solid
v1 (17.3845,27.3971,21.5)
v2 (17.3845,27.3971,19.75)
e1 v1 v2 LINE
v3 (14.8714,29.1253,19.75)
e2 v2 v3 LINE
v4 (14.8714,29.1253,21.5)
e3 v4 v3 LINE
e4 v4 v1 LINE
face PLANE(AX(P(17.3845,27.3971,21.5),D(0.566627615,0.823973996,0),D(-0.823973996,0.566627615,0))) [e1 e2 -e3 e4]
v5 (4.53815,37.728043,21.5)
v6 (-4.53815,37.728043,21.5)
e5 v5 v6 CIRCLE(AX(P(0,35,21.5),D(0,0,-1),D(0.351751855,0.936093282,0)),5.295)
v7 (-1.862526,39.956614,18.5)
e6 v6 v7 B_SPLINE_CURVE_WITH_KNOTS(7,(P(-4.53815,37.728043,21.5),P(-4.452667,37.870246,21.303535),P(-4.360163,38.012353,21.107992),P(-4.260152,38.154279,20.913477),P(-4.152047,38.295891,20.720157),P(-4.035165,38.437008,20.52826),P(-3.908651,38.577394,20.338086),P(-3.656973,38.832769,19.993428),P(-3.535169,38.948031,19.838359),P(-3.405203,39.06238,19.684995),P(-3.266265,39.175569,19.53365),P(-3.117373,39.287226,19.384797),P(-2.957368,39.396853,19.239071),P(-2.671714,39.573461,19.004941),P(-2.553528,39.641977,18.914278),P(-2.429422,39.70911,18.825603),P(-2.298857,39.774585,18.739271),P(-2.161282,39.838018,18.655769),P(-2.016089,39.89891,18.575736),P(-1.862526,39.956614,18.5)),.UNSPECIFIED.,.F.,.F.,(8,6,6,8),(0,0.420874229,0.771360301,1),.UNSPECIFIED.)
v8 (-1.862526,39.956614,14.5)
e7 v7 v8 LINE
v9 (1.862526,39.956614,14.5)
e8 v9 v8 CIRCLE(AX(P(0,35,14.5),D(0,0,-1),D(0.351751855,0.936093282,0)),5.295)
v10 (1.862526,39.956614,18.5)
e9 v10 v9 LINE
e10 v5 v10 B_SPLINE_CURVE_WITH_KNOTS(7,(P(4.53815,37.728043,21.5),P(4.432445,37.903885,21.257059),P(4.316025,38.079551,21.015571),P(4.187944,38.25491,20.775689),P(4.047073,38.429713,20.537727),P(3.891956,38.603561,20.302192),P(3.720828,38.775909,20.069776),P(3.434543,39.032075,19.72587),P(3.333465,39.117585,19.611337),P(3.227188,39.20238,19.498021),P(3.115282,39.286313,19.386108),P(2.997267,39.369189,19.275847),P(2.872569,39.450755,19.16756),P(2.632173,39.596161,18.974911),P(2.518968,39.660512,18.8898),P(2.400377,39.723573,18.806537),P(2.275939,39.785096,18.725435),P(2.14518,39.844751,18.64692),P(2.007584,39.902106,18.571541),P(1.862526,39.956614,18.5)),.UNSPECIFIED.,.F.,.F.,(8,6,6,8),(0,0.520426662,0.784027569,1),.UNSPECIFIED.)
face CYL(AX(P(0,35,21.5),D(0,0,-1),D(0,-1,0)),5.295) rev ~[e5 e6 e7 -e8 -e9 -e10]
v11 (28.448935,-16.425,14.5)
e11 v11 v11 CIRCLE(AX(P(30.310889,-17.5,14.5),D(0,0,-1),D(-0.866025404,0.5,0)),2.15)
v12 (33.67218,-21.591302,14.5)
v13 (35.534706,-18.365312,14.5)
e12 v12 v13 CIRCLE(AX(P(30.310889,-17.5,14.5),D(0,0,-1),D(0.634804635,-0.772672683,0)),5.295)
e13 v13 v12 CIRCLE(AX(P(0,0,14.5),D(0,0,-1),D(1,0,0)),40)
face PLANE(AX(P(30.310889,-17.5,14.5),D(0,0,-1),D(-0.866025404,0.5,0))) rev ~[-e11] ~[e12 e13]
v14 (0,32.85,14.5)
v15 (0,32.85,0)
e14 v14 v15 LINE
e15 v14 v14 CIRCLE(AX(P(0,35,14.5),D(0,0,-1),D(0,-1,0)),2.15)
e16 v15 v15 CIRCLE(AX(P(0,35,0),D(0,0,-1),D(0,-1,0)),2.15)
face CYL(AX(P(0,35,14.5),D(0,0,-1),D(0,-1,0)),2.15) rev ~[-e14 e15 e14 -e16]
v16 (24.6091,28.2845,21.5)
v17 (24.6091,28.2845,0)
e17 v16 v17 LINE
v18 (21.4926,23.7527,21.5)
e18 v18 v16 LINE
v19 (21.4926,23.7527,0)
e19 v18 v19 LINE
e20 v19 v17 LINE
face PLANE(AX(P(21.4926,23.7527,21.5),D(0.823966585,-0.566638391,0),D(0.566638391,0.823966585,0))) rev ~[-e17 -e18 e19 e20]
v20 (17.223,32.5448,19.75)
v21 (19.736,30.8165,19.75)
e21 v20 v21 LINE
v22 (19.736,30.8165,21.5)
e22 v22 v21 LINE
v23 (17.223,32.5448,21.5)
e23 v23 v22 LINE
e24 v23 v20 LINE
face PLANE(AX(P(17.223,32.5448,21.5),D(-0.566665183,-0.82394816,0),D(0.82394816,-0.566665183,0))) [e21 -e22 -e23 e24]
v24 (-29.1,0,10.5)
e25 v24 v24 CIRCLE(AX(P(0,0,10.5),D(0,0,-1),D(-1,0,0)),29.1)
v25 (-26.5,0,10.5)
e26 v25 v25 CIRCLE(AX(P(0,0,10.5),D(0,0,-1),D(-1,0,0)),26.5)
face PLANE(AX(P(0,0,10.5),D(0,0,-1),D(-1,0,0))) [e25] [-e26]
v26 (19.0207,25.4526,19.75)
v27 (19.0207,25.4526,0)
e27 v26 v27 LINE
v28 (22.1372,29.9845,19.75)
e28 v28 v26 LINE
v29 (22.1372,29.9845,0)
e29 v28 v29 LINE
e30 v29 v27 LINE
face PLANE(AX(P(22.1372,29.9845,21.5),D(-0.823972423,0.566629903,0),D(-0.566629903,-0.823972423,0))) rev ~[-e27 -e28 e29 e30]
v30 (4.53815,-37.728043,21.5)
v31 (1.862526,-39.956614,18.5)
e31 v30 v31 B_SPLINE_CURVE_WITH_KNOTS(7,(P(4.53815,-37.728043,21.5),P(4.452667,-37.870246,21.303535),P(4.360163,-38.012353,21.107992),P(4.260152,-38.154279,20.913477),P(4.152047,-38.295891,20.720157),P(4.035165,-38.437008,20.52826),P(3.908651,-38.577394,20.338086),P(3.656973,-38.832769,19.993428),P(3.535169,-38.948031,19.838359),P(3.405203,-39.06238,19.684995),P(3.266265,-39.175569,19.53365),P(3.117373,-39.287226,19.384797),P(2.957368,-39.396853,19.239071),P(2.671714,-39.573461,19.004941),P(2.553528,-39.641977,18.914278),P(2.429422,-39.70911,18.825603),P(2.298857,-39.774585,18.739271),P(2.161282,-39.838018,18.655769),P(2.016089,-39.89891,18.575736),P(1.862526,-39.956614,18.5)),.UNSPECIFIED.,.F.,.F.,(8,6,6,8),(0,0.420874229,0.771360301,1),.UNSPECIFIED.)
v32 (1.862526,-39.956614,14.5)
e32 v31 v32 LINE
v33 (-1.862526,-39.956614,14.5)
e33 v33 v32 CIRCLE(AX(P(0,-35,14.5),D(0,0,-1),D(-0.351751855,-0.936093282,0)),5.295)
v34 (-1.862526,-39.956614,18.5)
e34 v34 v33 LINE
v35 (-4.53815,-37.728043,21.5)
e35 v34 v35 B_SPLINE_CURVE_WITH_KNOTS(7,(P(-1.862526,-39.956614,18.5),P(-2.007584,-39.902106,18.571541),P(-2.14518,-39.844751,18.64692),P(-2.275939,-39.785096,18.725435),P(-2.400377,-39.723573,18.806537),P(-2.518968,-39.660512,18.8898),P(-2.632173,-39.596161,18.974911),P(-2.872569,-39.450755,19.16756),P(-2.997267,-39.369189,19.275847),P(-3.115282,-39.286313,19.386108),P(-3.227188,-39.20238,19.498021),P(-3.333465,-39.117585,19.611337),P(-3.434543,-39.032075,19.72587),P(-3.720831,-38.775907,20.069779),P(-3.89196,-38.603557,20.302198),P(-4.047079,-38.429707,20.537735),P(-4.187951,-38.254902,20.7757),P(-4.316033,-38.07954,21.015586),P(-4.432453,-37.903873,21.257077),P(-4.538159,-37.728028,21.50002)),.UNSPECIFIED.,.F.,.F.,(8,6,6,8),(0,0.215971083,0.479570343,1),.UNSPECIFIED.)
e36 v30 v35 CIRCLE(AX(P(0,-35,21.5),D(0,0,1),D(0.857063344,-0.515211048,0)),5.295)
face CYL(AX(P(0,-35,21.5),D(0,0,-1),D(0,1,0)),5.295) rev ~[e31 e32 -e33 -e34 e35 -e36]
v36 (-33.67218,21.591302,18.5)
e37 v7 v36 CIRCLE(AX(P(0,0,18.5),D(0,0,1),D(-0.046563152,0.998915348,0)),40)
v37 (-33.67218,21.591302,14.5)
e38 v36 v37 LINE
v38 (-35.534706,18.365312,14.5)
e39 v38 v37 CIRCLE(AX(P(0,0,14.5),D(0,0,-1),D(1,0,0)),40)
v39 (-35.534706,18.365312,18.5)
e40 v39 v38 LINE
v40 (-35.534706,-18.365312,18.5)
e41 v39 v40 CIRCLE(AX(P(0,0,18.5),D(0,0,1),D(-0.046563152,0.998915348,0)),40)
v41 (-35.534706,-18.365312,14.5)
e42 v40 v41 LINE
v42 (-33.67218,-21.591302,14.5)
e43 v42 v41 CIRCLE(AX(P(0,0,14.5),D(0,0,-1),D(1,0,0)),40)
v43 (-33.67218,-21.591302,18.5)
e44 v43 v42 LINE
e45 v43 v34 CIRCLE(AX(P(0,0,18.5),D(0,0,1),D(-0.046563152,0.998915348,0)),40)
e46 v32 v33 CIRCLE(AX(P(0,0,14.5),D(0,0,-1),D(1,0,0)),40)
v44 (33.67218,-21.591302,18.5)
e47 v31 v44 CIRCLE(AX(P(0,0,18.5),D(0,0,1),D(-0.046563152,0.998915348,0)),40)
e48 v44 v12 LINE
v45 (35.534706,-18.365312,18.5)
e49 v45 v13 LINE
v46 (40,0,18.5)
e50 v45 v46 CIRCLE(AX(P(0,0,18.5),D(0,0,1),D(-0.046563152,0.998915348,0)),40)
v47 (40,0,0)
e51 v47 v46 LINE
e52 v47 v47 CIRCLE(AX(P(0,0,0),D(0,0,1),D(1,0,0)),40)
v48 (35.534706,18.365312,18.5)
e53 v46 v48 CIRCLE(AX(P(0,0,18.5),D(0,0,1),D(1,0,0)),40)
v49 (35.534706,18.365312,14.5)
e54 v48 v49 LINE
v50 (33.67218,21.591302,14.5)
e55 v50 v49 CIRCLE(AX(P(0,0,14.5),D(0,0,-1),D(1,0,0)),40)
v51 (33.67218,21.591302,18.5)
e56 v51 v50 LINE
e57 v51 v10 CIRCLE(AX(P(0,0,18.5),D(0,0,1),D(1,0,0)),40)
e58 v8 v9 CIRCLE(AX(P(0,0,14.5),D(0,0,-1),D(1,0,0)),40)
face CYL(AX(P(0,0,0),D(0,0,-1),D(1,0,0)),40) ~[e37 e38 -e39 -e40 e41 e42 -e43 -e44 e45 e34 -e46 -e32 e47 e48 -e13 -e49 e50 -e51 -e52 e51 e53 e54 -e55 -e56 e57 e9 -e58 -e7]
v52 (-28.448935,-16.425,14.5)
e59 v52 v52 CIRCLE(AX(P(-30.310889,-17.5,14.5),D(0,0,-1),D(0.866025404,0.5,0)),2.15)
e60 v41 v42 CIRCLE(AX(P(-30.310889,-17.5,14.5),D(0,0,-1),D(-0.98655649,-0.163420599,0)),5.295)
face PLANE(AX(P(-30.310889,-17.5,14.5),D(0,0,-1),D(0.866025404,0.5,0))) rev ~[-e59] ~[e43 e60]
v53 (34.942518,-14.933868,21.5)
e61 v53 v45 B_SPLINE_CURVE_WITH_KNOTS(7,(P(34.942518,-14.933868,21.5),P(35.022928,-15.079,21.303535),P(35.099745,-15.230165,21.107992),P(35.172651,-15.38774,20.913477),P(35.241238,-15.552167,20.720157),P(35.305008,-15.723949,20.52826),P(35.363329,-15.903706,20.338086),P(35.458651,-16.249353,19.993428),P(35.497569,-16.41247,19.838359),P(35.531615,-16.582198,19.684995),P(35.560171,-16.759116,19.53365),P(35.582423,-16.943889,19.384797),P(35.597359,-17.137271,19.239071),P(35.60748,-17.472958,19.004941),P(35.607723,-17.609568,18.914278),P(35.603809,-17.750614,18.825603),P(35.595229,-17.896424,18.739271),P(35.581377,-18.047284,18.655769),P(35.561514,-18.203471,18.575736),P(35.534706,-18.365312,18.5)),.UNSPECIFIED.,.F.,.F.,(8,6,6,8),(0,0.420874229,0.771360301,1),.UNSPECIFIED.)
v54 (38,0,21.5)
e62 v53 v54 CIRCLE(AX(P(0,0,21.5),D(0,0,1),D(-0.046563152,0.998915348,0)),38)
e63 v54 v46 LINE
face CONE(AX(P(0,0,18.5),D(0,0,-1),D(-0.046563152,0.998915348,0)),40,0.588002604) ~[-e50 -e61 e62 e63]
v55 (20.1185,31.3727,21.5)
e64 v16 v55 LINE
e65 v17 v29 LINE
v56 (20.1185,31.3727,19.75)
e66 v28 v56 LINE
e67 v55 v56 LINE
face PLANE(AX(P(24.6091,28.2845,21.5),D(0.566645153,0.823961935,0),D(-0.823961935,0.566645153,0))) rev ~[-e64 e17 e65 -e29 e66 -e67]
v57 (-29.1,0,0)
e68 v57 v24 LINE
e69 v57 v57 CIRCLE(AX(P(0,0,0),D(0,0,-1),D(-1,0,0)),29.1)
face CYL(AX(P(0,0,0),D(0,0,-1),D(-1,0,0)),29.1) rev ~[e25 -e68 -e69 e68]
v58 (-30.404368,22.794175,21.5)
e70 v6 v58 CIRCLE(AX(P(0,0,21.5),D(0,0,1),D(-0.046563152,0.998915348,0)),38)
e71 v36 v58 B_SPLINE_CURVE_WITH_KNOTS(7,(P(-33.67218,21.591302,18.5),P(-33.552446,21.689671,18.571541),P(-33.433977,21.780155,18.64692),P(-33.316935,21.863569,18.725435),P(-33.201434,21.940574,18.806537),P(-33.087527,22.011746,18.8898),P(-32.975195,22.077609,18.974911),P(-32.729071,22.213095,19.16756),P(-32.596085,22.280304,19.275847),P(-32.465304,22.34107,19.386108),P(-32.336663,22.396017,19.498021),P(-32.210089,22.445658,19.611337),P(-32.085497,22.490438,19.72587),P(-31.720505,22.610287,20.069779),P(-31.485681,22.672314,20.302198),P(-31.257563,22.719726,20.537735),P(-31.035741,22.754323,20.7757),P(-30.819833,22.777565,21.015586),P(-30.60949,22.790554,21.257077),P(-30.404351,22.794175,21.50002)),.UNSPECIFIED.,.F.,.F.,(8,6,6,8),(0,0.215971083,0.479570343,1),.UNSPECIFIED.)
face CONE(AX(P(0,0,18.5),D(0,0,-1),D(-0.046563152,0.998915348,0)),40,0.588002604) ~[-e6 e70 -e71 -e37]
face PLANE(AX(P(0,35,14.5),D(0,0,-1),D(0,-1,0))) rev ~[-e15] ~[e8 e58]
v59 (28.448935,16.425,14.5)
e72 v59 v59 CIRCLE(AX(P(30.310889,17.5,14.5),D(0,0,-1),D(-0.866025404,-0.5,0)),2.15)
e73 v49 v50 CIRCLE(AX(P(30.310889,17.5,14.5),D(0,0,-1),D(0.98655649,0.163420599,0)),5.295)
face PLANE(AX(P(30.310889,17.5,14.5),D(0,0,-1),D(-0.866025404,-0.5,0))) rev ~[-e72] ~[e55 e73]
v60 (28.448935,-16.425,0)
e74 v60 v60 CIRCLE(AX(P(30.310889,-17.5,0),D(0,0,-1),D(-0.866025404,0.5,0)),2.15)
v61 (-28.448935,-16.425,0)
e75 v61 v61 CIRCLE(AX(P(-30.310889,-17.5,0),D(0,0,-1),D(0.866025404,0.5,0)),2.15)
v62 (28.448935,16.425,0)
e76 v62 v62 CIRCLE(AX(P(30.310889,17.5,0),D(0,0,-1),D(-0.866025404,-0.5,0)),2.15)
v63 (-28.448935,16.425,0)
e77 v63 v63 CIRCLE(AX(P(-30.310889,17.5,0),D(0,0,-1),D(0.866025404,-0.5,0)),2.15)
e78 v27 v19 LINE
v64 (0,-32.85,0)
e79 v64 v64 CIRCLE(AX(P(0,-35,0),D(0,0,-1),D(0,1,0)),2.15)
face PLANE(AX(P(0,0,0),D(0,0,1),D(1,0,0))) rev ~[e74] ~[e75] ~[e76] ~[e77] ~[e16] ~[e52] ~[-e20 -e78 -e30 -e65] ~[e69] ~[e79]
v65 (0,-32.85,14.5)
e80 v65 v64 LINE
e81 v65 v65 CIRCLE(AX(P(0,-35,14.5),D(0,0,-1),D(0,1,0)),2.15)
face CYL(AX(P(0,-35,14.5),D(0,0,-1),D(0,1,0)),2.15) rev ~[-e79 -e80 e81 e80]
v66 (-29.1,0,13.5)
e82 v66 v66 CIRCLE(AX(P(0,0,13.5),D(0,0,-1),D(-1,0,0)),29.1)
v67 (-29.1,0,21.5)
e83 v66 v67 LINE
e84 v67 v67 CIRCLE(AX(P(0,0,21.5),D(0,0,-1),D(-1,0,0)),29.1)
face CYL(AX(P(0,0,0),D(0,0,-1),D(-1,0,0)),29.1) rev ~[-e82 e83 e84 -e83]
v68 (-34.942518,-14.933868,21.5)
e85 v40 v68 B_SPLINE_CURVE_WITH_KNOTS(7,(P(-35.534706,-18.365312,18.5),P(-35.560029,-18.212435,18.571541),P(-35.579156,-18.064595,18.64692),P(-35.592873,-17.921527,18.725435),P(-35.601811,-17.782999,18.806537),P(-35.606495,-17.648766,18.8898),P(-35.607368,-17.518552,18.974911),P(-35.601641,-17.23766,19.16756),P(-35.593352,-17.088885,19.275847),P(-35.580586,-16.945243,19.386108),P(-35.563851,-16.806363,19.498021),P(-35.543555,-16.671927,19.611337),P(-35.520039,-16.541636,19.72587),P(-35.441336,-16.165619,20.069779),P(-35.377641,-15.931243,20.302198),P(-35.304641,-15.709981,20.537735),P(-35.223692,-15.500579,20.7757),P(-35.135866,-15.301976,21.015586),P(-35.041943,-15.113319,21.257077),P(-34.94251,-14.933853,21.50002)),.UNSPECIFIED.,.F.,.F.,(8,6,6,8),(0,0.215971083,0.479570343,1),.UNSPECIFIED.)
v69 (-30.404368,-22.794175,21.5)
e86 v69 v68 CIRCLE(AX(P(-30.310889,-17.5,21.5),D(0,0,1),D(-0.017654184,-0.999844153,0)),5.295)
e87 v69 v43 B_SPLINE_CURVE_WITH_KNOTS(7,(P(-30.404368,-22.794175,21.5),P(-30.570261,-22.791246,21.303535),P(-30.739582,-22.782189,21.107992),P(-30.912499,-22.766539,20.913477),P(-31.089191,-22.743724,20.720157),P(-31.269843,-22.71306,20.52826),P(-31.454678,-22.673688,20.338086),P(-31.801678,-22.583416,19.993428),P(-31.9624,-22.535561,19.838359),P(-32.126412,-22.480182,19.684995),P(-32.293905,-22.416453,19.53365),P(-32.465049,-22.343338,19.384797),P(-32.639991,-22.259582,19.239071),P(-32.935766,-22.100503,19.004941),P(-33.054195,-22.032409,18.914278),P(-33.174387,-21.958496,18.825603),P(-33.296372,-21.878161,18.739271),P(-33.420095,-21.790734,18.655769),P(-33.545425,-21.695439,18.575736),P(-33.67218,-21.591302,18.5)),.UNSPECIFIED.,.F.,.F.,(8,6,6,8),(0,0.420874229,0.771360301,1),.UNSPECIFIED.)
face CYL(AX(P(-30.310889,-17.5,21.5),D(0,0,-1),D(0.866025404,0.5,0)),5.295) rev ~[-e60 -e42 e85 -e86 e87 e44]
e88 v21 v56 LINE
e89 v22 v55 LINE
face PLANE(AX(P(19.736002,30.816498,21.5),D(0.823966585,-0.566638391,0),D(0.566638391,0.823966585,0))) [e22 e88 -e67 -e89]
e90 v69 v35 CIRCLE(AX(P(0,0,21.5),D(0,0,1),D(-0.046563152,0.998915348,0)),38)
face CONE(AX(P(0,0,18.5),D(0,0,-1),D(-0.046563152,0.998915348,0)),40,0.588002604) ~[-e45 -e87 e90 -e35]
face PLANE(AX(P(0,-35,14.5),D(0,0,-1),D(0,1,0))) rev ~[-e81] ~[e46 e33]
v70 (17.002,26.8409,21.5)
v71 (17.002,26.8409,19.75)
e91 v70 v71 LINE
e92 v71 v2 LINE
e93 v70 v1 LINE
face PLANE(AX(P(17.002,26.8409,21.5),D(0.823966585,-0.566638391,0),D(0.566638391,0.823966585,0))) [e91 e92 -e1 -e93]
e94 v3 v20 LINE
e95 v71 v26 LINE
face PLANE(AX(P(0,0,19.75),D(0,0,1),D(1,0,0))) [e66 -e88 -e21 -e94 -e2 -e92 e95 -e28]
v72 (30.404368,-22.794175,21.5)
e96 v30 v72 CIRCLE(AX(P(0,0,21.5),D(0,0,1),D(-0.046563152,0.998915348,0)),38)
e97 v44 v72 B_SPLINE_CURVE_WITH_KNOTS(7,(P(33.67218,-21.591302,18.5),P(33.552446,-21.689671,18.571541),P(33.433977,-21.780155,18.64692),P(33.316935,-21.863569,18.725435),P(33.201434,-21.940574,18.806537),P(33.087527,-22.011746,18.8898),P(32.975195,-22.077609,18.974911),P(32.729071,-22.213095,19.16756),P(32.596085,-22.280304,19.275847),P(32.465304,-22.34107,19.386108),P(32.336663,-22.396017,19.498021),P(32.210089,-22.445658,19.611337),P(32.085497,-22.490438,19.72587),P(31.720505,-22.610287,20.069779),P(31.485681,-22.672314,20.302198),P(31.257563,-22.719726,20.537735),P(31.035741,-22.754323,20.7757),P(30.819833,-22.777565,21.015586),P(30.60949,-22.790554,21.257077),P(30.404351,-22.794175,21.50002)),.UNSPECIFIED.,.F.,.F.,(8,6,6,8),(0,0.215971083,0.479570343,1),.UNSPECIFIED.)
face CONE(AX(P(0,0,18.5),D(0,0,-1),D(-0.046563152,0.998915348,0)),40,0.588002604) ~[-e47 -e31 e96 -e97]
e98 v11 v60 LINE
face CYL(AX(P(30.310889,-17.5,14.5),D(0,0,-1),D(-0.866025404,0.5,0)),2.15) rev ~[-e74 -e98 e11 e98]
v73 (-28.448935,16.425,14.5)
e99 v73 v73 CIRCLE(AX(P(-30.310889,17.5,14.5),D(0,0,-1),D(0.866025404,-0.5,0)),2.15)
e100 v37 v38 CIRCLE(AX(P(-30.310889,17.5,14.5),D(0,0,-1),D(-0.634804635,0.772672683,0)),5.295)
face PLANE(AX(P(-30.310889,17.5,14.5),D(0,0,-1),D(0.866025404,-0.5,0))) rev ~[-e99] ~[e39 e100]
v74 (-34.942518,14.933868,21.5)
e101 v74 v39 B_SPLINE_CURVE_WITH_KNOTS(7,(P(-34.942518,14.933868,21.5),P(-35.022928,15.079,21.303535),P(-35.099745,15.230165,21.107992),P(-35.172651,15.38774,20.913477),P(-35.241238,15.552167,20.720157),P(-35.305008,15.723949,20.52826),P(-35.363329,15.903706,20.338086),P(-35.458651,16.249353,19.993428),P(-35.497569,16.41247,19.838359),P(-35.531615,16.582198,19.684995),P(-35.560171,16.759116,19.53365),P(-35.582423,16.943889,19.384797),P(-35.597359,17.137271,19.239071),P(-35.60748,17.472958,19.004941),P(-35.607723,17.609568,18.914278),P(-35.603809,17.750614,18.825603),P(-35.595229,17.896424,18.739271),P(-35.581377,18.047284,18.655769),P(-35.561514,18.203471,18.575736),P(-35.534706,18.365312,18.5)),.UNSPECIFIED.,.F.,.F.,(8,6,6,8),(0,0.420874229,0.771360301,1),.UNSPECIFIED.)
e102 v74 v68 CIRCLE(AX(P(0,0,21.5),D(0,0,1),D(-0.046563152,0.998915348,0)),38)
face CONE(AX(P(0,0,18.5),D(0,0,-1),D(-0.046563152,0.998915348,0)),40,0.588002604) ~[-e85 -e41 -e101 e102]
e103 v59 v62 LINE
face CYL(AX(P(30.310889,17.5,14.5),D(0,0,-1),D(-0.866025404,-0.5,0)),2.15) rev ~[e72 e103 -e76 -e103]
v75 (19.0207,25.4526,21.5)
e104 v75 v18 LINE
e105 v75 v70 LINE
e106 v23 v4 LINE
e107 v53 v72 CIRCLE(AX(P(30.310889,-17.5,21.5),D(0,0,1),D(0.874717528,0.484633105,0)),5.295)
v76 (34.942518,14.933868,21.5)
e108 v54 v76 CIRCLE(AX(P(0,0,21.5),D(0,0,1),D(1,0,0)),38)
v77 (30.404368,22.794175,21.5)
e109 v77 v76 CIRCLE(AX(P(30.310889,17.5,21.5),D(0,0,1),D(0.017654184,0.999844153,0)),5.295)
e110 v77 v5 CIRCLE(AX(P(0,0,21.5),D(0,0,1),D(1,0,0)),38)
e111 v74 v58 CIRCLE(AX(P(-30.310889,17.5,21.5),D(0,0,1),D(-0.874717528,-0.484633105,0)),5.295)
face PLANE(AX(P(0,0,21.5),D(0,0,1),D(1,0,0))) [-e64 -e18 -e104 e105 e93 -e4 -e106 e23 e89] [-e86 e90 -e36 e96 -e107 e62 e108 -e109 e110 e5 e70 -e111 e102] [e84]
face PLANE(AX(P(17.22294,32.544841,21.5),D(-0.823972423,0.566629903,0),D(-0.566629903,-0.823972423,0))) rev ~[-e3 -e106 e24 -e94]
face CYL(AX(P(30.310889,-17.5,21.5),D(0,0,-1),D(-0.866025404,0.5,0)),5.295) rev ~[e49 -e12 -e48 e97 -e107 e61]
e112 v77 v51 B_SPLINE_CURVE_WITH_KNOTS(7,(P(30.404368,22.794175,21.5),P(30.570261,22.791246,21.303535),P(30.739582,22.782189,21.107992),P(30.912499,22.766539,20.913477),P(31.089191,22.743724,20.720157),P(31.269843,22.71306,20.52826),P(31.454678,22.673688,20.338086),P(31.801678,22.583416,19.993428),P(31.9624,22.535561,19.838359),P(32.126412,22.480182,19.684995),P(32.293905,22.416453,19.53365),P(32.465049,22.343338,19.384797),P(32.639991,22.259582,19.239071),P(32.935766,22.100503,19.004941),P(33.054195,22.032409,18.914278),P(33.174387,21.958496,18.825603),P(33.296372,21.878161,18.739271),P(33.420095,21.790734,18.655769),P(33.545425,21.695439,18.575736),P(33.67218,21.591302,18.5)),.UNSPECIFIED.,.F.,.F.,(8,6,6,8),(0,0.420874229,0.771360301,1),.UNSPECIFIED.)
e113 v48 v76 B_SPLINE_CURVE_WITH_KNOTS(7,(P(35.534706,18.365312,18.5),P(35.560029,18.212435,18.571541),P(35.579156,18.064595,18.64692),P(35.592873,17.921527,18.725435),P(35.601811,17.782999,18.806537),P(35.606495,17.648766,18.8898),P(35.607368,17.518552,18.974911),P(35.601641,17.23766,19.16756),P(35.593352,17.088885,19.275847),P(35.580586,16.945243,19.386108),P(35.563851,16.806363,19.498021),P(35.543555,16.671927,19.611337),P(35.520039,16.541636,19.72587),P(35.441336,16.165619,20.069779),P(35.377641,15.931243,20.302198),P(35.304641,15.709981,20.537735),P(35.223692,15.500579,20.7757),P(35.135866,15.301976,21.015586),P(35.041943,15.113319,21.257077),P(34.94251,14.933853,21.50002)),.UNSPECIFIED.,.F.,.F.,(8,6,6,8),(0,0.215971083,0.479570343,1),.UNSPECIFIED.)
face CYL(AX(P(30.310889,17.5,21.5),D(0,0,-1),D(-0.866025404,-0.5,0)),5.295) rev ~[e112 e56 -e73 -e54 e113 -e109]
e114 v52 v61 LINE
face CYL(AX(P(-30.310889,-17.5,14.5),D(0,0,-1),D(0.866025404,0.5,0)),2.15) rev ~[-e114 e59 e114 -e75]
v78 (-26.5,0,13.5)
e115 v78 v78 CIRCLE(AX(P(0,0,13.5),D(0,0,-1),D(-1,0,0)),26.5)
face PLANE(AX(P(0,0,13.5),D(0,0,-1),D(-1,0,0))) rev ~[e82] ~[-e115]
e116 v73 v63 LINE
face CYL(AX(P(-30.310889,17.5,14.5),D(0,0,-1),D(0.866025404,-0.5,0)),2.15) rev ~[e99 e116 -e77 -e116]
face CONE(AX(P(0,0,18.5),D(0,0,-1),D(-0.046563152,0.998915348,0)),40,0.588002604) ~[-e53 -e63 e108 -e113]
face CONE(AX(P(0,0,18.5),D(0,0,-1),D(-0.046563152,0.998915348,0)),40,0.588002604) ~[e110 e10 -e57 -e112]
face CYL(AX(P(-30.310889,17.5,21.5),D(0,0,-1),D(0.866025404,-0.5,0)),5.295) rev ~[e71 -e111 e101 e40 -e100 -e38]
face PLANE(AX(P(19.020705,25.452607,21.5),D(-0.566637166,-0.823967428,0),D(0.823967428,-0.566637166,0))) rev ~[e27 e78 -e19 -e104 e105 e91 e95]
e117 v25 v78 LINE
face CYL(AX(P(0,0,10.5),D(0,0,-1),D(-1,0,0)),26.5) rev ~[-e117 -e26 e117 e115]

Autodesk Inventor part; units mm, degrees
ref_plane "YZ Plane" through (0, 0, 0) normal (1, 0, 0) x (0, 1, 0)
ref_plane "XZ Plane" through (0, 0, 0) normal (0, 1, 0) x (-1, 0, 0)
ref_plane "XY Plane" through (0, 0, 0) normal (0, 0, 1) x (1, 0, 0)
sketch "Sketch1" plane through (0, 0, 0) normal (0, 0, 1) x (1, 0, 0)
  circle A0 centre (0, 0) radius 40
  dimension "d0" = 80
extrude "Extrusion1" add sketch "Sketch1" along normal blind 21.5
sketch "Sketch2" plane through (0, 0, 21.5) normal (0, 0, 1) x (1, 0, 0)
  point P0 (0, 0)
  point P1 (0, 35)
  dimension "d3" = 35
hole "Hole1" at (0, 35, 21.5) direction (0, 0, -1) diameter 4.3 end through all counterbore diameter 10.59 counterbore depth 7 clearance for "Hex Head Machine Screw" size "M4" standard "Ansi Metric M Profile"
chamfer "Chamfer1" distance 2 distance2 3 2 edges at (-27.6179, -28.9353, 21.5) (28.9353, 27.6179, 21.5) measured on face at (-2.7418, -16.4668, 21.5)
pattern_circular "Circular Pattern1" count 6 over 360 about axis through (0, 0, 0) along (0, 0, 1) of "Hole1"
sketch "Sketch3" plane through (0, 0, 0) normal (0, 0, -1) x (-1, 0, 0)
  circle A0 centre (0, 0) radius 29.1
  dimension "d17" = 58.2
extrude "Extrusion2" cut sketch "Sketch3" against normal through all
ref_plane "Work Plane1" through (0, 0, 10.5) normal (0, 0, -1) x (-1, 0, 0)
sketch "Sketch4" plane through (0, 0, 10.5) normal (0, 0, -1) x (-1, 0, 0)
  circle A0 centre (0, 0) radius 29.5
  circle A1 centre (0, 0) radius 26.5
  dimension "d21" = 53
  dimension "d22" = 59
extrude "Extrusion3" add sketch "Sketch4" against normal blind 3
sketch "Sketch5" plane through (0, 0, 21.5) normal (0, 0, 1) x (1, 0, 0)
  arc A0 (33.6722, 21.5913) -> (1.8625, 39.9566) centre (0, 0) ccw projected
  line L0 (0, 0) -> (40, 0) construction
  line L1 (21.4926, 23.7527) -> (24.6091, 28.2845)
  line L2 (24.6091, 28.2845) -> (17.6054, 33.101)
  line L3 (17.6054, 33.101) -> (14.4889, 28.5691)
  line L4 (14.4889, 28.5691) -> (21.4926, 23.7527)
  line L5 (21.4926, 23.7527) -> (17.6054, 33.101) construction
  line L6 (24.6091, 28.2845) -> (14.4889, 28.5691) construction
  line L7 (17.002, 26.8409) -> (20.1185, 31.3727)
  line L8 (22.1372, 29.9845) -> (19.0207, 25.4526)
  line L9 (14.8714, 29.1253) -> (17.223, 32.5448)
  line L10 (17.223, 32.5448) -> (19.736, 30.8165)
  line L11 (19.736, 30.8165) -> (17.3845, 27.3971)
  line L12 (17.3845, 27.3971) -> (14.8714, 29.1253)
  line L13 (19.549, 28.4268) -> (16.0472, 30.8351)
  line L14 (17.3845, 27.3971) -> (17.223, 32.5448)
  line L15 (14.8714, 29.1253) -> (19.736, 30.8165)
  line L16 (0, 0) -> (17.3037, 29.9709)
  line L17 (0, 0) -> (19.549, 28.4268)
  dimension "d26" = 8.5
  dimension "d27" = 5.5
  dimension "d29" = 34.5
  dimension "d30" = 3.05
  dimension "d36" = 3
  dimension "d41" = 4.15
  dimension "d42" = 60
extrude "Extrusion4" cut sketch "Sketch5" against normal blind 1.75 contours L4 L17 L13 L7 L2 L8 | L4 L7 L13 L17 | L15 L14 L10 | L7 L13 L15 | L14 L13 L7 | L12 L16 L14 | L14 L13 L3 | L15 L3 L13 | L16 L12 L15
extrude "Extrusion7" cut sketch "Sketch5" against normal through all contours L4 L8 L2 L1
properties part number "Ring_Cover_Top"
